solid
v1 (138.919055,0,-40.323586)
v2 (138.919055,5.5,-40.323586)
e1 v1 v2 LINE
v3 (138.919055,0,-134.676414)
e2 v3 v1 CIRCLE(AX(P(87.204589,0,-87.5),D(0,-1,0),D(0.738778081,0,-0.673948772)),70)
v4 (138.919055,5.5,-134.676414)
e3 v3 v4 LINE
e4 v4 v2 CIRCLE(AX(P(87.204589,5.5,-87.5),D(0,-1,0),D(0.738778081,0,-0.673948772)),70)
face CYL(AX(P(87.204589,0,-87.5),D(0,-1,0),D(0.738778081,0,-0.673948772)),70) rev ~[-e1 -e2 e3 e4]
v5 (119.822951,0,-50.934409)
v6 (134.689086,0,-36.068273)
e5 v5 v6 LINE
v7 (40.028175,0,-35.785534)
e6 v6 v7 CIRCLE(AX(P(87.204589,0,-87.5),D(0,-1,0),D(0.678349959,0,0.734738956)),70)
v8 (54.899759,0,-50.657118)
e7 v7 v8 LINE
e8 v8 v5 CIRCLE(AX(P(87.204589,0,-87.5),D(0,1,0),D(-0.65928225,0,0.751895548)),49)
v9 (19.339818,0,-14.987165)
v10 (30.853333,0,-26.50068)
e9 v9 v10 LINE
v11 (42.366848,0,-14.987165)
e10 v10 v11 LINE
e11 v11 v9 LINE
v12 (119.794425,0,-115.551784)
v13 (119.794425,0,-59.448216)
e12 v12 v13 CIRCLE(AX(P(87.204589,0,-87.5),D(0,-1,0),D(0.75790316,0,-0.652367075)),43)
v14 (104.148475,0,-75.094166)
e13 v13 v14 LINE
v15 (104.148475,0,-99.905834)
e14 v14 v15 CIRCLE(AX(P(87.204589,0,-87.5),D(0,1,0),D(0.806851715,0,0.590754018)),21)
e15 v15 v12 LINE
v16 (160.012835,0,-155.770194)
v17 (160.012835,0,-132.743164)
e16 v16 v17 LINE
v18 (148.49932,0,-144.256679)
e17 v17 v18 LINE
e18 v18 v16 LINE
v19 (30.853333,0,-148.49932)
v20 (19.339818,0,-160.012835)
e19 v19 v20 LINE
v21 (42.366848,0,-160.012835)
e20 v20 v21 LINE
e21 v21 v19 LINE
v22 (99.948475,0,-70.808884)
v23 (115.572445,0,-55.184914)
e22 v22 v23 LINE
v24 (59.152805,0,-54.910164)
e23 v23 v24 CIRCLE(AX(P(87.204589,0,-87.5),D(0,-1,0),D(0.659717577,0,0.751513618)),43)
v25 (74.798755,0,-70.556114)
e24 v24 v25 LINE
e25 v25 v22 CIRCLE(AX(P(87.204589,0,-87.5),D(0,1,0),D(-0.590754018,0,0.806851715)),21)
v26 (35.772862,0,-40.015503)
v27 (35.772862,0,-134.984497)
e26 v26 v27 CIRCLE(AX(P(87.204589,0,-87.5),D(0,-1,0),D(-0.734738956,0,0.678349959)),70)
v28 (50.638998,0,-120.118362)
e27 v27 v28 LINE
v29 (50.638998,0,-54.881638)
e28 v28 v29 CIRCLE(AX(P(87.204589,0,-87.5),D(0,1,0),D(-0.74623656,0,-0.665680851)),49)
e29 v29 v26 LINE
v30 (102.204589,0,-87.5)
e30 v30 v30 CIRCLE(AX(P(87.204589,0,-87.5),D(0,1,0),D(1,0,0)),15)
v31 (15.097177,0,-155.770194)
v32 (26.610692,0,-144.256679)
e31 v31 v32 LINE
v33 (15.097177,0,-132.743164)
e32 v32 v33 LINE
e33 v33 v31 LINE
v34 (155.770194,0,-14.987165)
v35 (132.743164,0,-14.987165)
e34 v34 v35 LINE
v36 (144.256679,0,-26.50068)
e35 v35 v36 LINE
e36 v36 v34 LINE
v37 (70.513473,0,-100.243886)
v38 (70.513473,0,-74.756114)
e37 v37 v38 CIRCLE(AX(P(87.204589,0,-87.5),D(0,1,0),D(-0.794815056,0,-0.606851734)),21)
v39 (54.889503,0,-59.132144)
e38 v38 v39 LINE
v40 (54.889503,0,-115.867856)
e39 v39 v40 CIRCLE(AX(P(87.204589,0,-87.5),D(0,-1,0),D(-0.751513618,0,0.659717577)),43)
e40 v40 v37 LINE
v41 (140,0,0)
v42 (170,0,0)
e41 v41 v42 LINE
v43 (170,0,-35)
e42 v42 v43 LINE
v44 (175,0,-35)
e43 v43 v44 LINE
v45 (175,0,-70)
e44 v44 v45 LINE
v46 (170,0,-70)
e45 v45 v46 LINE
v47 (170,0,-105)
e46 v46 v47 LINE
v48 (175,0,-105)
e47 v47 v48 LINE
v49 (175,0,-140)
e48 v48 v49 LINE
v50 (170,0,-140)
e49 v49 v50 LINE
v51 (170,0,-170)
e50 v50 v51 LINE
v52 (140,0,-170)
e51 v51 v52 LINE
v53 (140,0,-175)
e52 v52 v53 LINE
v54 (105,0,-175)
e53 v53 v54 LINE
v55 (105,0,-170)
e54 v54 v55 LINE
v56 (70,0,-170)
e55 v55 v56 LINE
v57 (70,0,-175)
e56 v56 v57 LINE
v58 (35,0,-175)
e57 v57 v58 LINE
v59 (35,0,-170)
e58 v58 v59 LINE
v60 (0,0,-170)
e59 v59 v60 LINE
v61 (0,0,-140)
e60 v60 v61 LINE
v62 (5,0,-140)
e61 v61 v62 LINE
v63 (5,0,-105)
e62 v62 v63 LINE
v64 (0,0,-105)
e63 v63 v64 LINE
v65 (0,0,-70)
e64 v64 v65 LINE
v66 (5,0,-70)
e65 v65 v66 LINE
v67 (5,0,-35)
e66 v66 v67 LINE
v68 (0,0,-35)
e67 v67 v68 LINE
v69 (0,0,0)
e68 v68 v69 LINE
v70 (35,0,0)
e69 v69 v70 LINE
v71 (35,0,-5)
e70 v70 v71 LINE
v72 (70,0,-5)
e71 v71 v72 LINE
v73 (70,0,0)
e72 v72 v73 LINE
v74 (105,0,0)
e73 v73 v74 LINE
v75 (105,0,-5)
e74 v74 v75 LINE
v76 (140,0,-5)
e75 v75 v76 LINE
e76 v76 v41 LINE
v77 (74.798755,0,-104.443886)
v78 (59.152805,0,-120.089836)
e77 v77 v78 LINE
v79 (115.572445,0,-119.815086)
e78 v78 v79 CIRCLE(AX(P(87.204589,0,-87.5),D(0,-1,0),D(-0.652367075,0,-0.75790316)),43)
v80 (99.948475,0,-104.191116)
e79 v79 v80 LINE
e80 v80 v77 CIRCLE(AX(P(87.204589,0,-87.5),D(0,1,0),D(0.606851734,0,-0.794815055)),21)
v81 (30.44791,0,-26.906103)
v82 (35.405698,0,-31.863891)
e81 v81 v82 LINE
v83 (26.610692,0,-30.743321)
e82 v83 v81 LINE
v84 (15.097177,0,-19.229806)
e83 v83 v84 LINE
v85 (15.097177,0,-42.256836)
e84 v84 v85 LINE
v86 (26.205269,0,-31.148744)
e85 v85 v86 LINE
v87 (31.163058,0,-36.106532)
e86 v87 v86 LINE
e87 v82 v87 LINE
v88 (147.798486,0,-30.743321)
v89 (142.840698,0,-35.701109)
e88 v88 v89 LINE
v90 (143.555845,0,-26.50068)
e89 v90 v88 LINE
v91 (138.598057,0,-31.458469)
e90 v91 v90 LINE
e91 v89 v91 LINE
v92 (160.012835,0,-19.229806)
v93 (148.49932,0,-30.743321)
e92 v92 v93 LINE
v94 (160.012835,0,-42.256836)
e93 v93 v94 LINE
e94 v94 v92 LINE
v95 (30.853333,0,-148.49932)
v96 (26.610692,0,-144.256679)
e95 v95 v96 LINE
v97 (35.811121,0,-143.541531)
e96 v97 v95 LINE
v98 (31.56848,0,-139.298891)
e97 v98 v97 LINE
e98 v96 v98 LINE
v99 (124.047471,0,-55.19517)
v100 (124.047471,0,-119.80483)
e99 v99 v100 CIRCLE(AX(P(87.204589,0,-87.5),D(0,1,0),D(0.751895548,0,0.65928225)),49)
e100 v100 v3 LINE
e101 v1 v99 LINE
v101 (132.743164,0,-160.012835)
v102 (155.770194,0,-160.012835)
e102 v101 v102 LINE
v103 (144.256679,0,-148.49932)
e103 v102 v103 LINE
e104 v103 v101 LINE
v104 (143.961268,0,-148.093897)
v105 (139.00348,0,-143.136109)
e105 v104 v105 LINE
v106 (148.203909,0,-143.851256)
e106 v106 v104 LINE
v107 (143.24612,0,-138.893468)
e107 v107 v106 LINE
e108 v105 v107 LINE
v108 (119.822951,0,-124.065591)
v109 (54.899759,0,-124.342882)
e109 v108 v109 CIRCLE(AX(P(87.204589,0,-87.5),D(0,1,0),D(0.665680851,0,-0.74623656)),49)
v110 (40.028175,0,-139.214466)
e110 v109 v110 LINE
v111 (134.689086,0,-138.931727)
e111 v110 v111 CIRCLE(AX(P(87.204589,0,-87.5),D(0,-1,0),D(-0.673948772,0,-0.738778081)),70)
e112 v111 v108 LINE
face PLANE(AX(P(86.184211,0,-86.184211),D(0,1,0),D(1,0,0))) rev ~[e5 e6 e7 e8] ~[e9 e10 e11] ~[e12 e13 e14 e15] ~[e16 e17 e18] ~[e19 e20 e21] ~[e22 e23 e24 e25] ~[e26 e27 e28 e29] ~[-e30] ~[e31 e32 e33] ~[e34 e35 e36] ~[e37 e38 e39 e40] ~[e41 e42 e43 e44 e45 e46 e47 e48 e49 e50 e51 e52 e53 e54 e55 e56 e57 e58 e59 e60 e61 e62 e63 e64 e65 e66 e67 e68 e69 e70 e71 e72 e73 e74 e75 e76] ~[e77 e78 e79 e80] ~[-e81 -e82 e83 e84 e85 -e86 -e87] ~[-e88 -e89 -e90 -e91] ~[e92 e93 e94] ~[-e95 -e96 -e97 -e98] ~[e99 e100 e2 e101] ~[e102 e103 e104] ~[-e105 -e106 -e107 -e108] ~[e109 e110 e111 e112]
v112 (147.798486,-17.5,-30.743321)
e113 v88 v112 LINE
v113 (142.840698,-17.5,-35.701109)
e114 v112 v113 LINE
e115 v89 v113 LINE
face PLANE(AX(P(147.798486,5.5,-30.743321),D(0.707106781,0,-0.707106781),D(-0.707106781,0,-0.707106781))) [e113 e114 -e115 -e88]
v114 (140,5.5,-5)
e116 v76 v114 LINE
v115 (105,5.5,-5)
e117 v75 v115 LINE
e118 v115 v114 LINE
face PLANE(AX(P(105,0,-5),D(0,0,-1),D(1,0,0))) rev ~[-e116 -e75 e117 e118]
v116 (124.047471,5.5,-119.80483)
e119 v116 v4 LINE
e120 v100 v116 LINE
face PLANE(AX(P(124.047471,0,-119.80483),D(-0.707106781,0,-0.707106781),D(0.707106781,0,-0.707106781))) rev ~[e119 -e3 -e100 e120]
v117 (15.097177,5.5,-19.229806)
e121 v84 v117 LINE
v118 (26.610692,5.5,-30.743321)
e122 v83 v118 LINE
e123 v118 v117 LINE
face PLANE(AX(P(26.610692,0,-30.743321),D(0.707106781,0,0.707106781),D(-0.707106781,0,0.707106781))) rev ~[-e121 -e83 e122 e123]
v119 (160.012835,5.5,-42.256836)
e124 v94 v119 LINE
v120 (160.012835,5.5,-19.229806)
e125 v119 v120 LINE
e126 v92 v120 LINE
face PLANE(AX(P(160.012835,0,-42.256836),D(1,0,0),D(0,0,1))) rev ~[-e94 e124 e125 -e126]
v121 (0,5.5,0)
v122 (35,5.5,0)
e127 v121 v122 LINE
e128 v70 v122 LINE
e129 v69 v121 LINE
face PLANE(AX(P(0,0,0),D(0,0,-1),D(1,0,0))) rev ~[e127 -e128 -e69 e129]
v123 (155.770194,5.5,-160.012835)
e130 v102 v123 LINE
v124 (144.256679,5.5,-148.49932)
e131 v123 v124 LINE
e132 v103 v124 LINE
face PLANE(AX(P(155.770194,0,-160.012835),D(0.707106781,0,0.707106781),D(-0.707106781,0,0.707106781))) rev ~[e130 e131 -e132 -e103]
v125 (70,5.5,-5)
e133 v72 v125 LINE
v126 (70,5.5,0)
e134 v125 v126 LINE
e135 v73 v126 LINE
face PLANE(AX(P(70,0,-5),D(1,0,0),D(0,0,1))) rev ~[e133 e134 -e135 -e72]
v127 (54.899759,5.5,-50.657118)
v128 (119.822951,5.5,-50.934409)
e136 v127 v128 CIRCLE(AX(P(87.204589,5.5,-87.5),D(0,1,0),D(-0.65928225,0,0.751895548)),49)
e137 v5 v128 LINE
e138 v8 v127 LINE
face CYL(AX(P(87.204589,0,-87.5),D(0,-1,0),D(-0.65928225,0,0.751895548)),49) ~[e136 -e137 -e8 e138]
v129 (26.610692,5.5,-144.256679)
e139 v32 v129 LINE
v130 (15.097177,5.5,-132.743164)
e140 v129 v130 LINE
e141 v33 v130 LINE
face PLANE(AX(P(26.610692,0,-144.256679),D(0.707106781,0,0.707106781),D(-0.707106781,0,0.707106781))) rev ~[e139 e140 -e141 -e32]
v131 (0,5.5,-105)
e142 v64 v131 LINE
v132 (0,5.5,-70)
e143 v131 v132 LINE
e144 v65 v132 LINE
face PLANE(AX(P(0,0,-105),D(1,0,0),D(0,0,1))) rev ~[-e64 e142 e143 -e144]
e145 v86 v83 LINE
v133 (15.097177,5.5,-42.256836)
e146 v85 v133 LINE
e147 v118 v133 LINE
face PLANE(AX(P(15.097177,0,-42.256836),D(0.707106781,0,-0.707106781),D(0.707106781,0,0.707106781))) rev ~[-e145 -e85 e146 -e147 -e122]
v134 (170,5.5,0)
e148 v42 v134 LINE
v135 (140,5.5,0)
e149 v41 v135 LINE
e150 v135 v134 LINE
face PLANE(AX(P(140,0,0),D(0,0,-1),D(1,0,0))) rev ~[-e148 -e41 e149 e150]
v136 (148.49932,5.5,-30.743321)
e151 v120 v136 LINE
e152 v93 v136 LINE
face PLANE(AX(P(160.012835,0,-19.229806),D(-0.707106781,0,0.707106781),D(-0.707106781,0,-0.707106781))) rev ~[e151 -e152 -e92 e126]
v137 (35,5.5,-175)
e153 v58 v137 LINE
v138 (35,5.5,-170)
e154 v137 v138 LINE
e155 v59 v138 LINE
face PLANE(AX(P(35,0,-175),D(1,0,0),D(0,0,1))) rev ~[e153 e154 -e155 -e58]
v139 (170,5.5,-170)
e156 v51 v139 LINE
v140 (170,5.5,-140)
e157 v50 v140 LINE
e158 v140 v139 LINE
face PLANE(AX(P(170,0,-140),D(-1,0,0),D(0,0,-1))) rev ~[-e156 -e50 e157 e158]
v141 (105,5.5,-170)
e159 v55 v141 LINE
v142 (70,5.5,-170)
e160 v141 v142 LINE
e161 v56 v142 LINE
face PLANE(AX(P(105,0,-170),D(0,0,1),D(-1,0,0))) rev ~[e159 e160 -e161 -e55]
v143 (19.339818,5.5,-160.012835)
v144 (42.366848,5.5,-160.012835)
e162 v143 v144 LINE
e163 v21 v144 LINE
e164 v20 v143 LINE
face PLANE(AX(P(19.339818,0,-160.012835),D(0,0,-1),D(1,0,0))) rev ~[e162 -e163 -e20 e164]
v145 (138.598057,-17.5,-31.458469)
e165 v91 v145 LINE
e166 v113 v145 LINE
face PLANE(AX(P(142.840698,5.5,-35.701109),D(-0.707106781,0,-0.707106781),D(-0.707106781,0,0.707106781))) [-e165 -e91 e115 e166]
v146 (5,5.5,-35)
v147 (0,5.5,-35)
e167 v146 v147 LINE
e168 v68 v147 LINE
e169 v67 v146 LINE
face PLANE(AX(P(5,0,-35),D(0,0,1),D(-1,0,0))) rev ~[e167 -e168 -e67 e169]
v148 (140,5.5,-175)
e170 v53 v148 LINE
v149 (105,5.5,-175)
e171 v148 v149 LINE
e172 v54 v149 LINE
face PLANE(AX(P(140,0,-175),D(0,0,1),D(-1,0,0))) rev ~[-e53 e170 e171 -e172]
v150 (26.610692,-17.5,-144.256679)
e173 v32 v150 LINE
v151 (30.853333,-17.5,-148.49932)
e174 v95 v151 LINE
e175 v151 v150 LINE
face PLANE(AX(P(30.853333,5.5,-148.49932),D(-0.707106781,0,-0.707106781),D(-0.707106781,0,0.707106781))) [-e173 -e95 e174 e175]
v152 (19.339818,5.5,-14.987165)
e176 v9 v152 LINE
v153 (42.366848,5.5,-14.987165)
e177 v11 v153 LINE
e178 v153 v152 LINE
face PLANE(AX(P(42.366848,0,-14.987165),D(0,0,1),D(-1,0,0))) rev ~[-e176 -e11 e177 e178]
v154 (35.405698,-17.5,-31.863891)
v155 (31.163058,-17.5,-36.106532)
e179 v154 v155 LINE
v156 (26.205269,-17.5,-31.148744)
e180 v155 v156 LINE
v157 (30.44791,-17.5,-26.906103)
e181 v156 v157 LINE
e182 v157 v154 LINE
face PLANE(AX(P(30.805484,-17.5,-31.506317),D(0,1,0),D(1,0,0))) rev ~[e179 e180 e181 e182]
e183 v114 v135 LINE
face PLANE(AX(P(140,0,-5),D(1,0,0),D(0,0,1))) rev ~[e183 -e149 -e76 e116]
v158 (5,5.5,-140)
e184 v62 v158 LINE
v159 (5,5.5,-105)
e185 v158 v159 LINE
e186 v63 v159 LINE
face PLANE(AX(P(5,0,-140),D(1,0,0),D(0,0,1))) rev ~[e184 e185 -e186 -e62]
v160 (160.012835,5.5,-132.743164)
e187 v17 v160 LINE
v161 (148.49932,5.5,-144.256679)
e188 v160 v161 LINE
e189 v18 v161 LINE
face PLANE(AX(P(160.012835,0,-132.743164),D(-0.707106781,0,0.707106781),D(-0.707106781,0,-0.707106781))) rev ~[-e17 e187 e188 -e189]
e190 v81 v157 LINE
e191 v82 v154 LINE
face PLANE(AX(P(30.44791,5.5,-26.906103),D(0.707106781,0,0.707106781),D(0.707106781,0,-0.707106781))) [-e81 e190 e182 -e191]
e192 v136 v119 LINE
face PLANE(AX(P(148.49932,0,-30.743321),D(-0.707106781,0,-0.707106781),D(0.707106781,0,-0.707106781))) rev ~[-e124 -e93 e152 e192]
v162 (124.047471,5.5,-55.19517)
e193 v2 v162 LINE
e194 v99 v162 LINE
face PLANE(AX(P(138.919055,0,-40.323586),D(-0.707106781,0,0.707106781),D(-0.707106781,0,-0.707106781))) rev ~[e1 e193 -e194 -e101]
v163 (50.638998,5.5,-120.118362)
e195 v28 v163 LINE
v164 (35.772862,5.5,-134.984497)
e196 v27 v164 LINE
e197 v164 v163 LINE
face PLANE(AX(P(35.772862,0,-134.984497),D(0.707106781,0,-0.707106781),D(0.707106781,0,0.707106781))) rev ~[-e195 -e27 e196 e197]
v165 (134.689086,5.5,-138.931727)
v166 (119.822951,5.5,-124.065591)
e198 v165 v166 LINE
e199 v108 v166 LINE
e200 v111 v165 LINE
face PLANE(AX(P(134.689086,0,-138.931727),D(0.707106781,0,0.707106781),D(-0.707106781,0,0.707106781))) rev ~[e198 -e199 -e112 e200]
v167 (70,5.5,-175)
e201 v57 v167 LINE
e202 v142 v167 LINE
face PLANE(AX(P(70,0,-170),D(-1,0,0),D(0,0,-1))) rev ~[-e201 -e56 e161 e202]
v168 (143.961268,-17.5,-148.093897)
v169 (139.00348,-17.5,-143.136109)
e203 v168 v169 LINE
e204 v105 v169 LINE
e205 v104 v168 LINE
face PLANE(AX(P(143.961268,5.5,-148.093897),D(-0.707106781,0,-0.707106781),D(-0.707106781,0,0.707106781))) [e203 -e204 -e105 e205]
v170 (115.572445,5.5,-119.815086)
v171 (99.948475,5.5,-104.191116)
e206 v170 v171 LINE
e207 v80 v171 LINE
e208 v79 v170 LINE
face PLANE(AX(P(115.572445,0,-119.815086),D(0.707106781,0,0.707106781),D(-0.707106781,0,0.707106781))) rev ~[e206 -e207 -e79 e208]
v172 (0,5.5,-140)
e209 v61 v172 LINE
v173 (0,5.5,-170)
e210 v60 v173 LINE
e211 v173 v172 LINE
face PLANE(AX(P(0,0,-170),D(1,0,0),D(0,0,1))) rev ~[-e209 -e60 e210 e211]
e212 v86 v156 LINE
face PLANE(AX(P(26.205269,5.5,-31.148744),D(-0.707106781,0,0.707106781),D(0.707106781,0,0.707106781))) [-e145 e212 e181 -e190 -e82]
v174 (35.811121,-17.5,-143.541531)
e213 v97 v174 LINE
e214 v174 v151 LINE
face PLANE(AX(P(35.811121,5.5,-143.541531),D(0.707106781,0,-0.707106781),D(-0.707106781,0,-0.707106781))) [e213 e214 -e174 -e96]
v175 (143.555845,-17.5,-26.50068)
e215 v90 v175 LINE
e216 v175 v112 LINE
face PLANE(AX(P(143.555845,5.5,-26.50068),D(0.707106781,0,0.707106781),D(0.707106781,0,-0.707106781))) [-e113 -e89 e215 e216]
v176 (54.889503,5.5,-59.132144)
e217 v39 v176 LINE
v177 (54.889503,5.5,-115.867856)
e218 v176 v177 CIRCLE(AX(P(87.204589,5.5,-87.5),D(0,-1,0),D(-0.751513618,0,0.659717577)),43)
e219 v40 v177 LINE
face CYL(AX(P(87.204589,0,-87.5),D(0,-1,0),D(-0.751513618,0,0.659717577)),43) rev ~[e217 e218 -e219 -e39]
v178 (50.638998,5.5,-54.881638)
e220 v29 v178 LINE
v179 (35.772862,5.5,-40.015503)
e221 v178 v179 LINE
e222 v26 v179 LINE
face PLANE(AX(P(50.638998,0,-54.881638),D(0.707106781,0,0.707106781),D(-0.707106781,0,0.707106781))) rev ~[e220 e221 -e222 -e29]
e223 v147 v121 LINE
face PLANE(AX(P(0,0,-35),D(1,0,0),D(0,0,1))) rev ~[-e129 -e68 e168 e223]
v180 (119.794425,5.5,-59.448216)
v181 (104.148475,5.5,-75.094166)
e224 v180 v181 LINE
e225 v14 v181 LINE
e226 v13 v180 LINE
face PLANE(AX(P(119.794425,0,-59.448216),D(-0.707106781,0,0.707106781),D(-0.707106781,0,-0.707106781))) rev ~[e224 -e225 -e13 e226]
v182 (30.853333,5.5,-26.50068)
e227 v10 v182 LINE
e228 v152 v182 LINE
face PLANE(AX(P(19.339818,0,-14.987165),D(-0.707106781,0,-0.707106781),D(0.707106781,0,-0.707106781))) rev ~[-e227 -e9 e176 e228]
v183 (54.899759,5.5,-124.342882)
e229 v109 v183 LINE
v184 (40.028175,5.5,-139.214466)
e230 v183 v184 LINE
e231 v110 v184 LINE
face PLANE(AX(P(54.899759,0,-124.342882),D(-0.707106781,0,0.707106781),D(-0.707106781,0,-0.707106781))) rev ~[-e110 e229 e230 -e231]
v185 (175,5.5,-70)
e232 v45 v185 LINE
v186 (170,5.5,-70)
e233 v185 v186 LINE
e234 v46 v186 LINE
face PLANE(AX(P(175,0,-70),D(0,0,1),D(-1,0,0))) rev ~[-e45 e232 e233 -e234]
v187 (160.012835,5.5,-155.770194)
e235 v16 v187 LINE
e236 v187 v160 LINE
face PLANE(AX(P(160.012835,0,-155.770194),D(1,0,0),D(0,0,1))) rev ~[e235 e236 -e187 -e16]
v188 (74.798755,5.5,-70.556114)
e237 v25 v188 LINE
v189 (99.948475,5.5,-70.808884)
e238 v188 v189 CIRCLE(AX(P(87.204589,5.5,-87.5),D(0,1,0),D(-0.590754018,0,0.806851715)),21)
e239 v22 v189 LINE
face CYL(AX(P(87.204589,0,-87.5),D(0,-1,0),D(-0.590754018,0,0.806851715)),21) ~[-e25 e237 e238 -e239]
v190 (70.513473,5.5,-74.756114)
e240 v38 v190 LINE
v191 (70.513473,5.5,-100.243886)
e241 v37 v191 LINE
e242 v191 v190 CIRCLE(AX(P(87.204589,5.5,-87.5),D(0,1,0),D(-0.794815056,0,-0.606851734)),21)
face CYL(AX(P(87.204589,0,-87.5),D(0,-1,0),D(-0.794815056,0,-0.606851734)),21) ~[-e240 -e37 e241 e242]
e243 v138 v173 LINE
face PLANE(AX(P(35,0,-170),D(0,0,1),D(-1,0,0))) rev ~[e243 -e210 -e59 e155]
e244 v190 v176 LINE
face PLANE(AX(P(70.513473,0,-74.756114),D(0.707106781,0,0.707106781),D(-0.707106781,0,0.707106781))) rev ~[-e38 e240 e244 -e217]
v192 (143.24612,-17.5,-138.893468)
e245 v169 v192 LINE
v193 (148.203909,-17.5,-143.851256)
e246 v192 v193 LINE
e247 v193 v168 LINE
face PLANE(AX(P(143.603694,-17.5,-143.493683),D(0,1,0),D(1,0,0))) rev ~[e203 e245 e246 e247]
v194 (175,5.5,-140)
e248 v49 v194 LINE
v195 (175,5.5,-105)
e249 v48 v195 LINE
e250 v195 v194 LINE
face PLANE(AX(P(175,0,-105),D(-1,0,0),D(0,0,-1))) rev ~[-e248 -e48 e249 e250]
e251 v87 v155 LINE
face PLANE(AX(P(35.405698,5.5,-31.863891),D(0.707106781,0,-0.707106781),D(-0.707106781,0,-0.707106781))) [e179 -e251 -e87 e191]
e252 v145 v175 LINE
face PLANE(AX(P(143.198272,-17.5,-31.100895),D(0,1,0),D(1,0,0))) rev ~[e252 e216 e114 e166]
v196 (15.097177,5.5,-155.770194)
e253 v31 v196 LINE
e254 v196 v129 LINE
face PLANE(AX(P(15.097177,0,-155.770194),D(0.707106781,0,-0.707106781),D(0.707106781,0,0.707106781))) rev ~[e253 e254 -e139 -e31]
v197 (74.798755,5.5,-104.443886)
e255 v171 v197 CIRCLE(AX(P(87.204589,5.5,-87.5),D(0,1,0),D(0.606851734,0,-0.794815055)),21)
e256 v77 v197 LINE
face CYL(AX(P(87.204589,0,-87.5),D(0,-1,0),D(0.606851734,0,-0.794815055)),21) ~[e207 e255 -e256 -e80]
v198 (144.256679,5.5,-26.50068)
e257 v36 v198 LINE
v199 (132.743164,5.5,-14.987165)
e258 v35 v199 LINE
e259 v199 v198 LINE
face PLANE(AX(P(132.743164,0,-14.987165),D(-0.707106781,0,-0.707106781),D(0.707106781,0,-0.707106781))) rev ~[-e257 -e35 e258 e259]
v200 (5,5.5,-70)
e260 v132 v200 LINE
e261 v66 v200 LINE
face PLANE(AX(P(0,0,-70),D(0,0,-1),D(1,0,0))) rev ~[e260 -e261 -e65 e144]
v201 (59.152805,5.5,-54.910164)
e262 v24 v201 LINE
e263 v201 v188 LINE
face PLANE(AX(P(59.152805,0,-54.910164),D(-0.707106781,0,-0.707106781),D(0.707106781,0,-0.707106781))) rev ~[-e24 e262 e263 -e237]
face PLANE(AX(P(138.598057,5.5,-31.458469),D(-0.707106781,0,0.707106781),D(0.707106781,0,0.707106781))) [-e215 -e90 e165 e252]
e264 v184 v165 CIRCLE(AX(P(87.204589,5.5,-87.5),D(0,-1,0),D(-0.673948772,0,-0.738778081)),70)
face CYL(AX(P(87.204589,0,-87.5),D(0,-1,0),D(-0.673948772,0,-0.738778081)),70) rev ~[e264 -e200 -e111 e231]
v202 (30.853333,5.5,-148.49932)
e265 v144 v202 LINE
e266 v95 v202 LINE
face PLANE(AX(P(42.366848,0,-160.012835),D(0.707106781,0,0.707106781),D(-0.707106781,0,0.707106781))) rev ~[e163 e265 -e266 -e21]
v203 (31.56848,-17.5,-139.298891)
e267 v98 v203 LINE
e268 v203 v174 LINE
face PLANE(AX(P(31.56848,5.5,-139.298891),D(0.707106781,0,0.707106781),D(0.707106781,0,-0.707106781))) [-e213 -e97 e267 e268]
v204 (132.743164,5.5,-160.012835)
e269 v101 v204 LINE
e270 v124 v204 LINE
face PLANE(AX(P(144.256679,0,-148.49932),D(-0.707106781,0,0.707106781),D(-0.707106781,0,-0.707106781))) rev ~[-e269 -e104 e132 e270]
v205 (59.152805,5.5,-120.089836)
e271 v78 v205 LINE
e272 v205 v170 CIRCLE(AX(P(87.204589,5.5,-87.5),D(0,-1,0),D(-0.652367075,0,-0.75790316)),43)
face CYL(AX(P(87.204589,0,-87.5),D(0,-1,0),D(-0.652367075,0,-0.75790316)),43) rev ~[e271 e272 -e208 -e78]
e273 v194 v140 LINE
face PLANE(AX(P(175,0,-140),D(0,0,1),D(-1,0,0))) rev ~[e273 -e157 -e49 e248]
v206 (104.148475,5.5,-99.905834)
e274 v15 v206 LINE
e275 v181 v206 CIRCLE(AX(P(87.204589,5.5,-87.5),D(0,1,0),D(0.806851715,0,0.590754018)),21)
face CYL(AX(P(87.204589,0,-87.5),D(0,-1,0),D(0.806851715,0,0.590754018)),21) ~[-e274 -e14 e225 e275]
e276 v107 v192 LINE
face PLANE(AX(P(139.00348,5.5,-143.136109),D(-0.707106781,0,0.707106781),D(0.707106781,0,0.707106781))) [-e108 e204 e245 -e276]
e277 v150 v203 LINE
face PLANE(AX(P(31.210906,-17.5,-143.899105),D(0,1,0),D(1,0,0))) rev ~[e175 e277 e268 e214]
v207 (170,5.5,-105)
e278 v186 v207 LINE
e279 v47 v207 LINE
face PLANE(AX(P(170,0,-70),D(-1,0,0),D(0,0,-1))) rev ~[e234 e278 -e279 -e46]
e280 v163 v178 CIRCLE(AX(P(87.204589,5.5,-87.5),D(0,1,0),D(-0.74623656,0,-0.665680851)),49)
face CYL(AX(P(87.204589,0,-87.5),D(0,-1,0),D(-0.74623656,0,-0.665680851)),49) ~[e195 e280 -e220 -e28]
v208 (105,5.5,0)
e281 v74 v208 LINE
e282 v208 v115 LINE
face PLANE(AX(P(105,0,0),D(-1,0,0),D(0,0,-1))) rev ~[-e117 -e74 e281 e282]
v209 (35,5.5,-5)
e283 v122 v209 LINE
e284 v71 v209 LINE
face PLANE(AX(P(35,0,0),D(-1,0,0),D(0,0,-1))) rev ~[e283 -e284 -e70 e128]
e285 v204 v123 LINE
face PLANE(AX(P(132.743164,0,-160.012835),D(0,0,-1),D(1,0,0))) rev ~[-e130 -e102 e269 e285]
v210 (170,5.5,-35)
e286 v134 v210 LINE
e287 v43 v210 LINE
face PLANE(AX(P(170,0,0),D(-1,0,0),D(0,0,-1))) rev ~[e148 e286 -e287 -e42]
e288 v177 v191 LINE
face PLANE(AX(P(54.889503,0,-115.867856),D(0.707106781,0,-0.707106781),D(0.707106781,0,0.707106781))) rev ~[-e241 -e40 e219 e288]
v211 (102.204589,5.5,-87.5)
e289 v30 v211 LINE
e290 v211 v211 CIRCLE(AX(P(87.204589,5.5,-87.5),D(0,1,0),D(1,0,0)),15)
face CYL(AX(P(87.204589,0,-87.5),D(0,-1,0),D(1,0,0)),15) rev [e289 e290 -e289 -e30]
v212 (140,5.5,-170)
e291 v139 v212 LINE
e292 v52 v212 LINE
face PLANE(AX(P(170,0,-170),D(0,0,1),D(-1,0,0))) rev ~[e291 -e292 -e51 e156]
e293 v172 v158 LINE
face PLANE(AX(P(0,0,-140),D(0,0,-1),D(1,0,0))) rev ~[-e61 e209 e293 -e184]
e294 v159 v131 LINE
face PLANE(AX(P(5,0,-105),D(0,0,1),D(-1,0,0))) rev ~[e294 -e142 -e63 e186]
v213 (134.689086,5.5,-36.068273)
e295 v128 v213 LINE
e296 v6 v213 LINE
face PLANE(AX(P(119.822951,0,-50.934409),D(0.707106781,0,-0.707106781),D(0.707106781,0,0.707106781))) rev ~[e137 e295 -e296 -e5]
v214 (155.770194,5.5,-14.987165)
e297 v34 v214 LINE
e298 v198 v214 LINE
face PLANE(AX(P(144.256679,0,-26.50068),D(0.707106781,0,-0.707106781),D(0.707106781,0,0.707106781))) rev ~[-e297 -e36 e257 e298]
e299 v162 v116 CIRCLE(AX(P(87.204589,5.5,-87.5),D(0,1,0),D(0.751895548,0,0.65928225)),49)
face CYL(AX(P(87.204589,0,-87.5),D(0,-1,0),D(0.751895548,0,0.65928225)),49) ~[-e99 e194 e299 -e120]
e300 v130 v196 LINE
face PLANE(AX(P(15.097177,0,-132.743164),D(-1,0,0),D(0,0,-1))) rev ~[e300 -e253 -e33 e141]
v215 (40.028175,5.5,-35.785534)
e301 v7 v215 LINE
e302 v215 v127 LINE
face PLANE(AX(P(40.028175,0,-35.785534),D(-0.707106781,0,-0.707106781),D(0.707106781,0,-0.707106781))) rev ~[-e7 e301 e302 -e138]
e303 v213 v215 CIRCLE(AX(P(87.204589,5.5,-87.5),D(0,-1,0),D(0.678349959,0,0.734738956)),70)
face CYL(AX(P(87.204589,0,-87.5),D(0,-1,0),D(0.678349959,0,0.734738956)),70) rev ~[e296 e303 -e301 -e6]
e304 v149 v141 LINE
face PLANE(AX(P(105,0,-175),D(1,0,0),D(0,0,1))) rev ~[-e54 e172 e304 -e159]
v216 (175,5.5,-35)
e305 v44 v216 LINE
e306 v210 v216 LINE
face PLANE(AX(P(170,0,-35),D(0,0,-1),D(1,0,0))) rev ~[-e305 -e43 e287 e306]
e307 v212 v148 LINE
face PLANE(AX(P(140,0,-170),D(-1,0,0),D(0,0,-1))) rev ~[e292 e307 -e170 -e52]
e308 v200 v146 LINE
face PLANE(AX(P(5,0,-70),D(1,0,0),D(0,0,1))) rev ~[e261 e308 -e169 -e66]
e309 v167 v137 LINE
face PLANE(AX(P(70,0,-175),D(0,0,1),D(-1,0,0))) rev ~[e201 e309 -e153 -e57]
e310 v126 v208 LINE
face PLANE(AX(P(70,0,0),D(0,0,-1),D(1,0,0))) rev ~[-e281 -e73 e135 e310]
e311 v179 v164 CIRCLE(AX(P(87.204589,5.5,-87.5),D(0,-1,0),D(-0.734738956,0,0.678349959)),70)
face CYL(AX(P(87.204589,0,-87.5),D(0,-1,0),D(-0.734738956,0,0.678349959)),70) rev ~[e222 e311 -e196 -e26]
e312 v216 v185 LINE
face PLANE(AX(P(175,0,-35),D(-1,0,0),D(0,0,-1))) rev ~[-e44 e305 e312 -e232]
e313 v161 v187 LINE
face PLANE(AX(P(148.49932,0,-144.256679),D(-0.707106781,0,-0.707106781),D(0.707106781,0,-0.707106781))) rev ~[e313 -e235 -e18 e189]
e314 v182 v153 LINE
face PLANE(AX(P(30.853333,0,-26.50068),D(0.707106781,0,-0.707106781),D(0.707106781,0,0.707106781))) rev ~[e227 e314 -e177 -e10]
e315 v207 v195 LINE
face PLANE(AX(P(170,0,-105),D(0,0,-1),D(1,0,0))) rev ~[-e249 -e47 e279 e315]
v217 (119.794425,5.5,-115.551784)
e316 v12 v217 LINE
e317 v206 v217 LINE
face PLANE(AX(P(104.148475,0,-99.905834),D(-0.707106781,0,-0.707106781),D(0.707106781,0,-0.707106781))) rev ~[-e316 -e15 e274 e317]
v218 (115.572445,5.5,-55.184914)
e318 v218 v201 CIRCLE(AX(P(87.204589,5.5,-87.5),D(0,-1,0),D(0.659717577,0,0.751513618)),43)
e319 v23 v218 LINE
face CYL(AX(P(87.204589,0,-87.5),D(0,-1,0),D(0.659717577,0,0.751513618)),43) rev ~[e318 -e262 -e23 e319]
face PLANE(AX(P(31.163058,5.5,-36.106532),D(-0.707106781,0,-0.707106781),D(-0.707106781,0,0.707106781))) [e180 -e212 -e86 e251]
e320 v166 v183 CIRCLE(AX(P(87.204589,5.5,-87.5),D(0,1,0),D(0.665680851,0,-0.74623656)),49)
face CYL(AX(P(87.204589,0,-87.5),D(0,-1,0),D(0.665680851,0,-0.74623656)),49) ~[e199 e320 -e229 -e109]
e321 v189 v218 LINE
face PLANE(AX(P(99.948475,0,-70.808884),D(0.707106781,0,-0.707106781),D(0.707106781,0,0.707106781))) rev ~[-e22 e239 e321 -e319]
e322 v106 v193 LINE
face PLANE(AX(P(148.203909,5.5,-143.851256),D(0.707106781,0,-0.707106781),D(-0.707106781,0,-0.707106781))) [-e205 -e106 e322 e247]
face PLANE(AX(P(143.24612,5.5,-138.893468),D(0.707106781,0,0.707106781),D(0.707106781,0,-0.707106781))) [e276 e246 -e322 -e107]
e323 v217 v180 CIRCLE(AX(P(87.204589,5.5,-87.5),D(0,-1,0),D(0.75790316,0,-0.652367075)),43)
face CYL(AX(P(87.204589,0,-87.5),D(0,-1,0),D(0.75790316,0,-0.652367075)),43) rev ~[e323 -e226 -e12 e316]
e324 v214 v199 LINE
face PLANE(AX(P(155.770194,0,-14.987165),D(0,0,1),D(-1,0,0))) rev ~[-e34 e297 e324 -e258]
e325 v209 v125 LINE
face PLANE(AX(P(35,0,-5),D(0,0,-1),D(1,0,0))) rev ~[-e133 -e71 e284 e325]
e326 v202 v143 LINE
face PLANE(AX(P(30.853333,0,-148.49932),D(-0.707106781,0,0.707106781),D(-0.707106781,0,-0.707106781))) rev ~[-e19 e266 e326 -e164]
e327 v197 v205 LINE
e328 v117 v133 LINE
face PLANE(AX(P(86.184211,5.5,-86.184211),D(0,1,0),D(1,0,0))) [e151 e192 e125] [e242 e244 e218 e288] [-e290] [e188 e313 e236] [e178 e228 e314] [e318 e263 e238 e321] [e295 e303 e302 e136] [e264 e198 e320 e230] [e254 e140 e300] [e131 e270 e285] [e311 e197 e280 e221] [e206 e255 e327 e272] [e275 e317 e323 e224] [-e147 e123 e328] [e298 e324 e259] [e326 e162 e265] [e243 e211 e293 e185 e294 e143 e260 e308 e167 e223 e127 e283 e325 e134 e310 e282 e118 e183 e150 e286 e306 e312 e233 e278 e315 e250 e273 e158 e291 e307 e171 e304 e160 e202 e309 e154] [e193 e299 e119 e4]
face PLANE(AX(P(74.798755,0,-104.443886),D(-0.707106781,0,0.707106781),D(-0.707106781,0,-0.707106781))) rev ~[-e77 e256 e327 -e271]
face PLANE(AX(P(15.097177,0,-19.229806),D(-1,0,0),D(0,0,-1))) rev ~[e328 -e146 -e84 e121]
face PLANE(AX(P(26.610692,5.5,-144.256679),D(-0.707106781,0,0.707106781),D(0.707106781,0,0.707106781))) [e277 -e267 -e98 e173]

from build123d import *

# Parameters (mm, degrees)
SKETCH_1_R      = 15
EXTRUDE_2_DEPTH = 5.5
EXTRUDE_3_DEPTH = 23


with BuildPart() as part:
    # Эскиз1 → Бобышка-Вытянуть2 (new body)
    with BuildSketch(Plane(origin=(0, 0, 0), x_dir=(1, 0, 0), z_dir=(0, 1, 0))):
        Polygon((170, 140), (170, 170), (140, 170), (140, 175), (105, 175), (105, 170), (70, 170), (70, 175), (35, 175), (35, 170), (0, 170), (0, 140), (5, 140), (5, 105), (0, 105), (0, 70), (5, 70), (5, 35), (0, 35), (0, 0), (35, 0), (35, 5), (70, 5), (70, 0), (105, 0), (105, 5), (140, 5), (140, 0), (170, 0), (170, 35), (175, 35), (175, 70), (170, 70), (170, 105), (175, 105), (175, 140), align=None)
        Polygon((19.339817755, 14.98716546), (30.853332638, 26.500680342), (42.36684752, 14.98716546), align=None, mode=Mode.SUBTRACT)
        Polygon((26.610691951, 30.743321029), (15.097177068, 19.229806147), (15.097177068, 42.256835911), align=None, mode=Mode.SUBTRACT)
        with BuildLine():
            ThreePointArc((54.899758827, 50.65711814), (87.41386875, 38.50044692), (119.822950774, 50.934408539))
            Line((119.822950774, 50.934408539), (134.689086203, 36.06827311))
            ThreePointArc((134.689086203, 36.06827311), (87.41366824, 17.500312244), (40.028175023, 35.785534336))
            Line((40.028175023, 35.785534336), (54.899758827, 50.65711814))
        make_face(mode=Mode.SUBTRACT)
        with BuildLine():
            Line((35.772862168, 134.984497145), (50.638997596, 120.118361717))
            ThreePointArc((50.638997596, 120.118361717), (38.204589058, 87.5), (50.638997596, 54.881638283))
            Line((50.638997596, 54.881638283), (35.772862168, 40.015502855))
            ThreePointArc((35.772862168, 40.015502855), (17.204589058, 87.5), (35.772862168, 134.984497145))
        make_face(mode=Mode.SUBTRACT)
        with BuildLine():
            ThreePointArc((74.798754674, 70.556113987), (87.415641051, 66.501060573), (99.948475479, 70.808883834))
            Line((99.948475479, 70.808883834), (115.572444887, 55.184914426))
            ThreePointArc((115.572444887, 55.184914426), (87.413986392, 44.500509855), (59.152804826, 54.910164139))
            Line((59.152804826, 54.910164139), (74.798754674, 70.556113987))
        make_face(mode=Mode.SUBTRACT)
        Polygon((155.770193853, 14.98716546), (132.743164089, 14.98716546), (144.256678971, 26.500680342), align=None, mode=Mode.SUBTRACT)
        Polygon((160.01283454, 19.229806147), (148.499319658, 30.743321029), (160.01283454, 42.256835911), align=None, mode=Mode.SUBTRACT)
        with BuildLine():
            Line((54.889503484, 115.867855829), (70.513472891, 100.243886422))
            ThreePointArc((70.513472891, 100.243886422), (66.204589058, 87.5), (70.513472891, 74.756113578))
            Line((70.513472891, 74.756113578), (54.889503484, 59.132144171))
            ThreePointArc((54.889503484, 59.132144171), (44.204589058, 87.5), (54.889503484, 115.867855829))
        make_face(mode=Mode.SUBTRACT)
        with BuildLine():
            Line((115.572444887, 119.815085574), (99.948475479, 104.191116166))
            ThreePointArc((99.948475479, 104.191116166), (87.415641051, 108.498939427), (74.798754674, 104.443886013))
            Line((74.798754674, 104.443886013), (59.152804826, 120.089835861))
            ThreePointArc((59.152804826, 120.089835861), (87.413986392, 130.499490145), (115.572444887, 119.815085574))
        make_face(mode=Mode.SUBTRACT)
        Polygon((15.097177068, 132.743164089), (15.097177068, 155.770193853), (26.610691951, 144.256678971), align=None, mode=Mode.SUBTRACT)
        Polygon((19.339817755, 160.01283454), (42.36684752, 160.01283454), (30.853332638, 148.499319658), align=None, mode=Mode.SUBTRACT)
        with BuildLine():
            Line((134.689086203, 138.93172689), (119.822950774, 124.065591461))
            ThreePointArc((119.822950774, 124.065591461), (87.41386875, 136.49955308), (54.899758827, 124.34288186))
            Line((54.899758827, 124.34288186), (40.028175023, 139.214465664))
            ThreePointArc((40.028175023, 139.214465664), (87.41366824, 157.499687756), (134.689086203, 138.93172689))
        make_face(mode=Mode.SUBTRACT)
        with Locations((87.204589058, 87.5)):
            Circle(SKETCH_1_R, mode=Mode.SUBTRACT)
        with BuildLine():
            ThreePointArc((104.148475071, 75.094165616), (108.204589058, 87.5), (104.148475071, 99.905834384))
            Line((104.148475071, 99.905834384), (119.794424918, 115.551784231))
            ThreePointArc((119.794424918, 115.551784231), (130.204589058, 87.5), (119.794424918, 59.448215769))
            Line((119.794424918, 59.448215769), (104.148475071, 75.094165616))
        make_face(mode=Mode.SUBTRACT)
        with BuildLine():
            ThreePointArc((124.047470918, 55.195169769), (136.204589058, 87.5), (124.047470918, 119.804830231))
            Line((124.047470918, 119.804830231), (138.919054721, 134.676414034))
            ThreePointArc((138.919054721, 134.676414034), (157.204589058, 87.5), (138.919054721, 40.323585966))
            Line((138.919054721, 40.323585966), (124.047470918, 55.195169769))
        make_face(mode=Mode.SUBTRACT)
        Polygon((160.01283454, 132.743164089), (148.499319658, 144.256678971), (160.01283454, 155.770193853), align=None, mode=Mode.SUBTRACT)
        Polygon((132.743164089, 160.01283454), (155.770193853, 160.01283454), (144.256678971, 148.499319658), align=None, mode=Mode.SUBTRACT)
    extrude(amount=EXTRUDE_2_DEPTH)

    # Эскиз2 → Бобышка-Вытянуть3 (add)
    with BuildSketch(Plane(origin=(0, 5.5, 0), x_dir=(1, 0, 0), z_dir=(0, 1, 0))):
        Polygon((30.853332638, 148.499319658), (26.610691951, 144.256678971), (31.568480277, 139.298890644), (35.811120964, 143.541531331), align=None)
        Polygon((148.203908716, 143.85125642), (143.961268028, 148.093897107), (139.003479702, 143.136108781), (143.246120389, 138.893468093), align=None)
        Polygon((143.555845478, 26.500680342), (147.798486165, 30.743321029), (142.840697838, 35.701109356), (138.598057151, 31.458468669), align=None)
        Polygon((26.2052694, 31.14874358), (30.447910087, 26.906102893), (35.405698413, 31.863891219), (31.163057726, 36.106531907), align=None)
    extrude(amount=-EXTRUDE_3_DEPTH)


solid = part.part
